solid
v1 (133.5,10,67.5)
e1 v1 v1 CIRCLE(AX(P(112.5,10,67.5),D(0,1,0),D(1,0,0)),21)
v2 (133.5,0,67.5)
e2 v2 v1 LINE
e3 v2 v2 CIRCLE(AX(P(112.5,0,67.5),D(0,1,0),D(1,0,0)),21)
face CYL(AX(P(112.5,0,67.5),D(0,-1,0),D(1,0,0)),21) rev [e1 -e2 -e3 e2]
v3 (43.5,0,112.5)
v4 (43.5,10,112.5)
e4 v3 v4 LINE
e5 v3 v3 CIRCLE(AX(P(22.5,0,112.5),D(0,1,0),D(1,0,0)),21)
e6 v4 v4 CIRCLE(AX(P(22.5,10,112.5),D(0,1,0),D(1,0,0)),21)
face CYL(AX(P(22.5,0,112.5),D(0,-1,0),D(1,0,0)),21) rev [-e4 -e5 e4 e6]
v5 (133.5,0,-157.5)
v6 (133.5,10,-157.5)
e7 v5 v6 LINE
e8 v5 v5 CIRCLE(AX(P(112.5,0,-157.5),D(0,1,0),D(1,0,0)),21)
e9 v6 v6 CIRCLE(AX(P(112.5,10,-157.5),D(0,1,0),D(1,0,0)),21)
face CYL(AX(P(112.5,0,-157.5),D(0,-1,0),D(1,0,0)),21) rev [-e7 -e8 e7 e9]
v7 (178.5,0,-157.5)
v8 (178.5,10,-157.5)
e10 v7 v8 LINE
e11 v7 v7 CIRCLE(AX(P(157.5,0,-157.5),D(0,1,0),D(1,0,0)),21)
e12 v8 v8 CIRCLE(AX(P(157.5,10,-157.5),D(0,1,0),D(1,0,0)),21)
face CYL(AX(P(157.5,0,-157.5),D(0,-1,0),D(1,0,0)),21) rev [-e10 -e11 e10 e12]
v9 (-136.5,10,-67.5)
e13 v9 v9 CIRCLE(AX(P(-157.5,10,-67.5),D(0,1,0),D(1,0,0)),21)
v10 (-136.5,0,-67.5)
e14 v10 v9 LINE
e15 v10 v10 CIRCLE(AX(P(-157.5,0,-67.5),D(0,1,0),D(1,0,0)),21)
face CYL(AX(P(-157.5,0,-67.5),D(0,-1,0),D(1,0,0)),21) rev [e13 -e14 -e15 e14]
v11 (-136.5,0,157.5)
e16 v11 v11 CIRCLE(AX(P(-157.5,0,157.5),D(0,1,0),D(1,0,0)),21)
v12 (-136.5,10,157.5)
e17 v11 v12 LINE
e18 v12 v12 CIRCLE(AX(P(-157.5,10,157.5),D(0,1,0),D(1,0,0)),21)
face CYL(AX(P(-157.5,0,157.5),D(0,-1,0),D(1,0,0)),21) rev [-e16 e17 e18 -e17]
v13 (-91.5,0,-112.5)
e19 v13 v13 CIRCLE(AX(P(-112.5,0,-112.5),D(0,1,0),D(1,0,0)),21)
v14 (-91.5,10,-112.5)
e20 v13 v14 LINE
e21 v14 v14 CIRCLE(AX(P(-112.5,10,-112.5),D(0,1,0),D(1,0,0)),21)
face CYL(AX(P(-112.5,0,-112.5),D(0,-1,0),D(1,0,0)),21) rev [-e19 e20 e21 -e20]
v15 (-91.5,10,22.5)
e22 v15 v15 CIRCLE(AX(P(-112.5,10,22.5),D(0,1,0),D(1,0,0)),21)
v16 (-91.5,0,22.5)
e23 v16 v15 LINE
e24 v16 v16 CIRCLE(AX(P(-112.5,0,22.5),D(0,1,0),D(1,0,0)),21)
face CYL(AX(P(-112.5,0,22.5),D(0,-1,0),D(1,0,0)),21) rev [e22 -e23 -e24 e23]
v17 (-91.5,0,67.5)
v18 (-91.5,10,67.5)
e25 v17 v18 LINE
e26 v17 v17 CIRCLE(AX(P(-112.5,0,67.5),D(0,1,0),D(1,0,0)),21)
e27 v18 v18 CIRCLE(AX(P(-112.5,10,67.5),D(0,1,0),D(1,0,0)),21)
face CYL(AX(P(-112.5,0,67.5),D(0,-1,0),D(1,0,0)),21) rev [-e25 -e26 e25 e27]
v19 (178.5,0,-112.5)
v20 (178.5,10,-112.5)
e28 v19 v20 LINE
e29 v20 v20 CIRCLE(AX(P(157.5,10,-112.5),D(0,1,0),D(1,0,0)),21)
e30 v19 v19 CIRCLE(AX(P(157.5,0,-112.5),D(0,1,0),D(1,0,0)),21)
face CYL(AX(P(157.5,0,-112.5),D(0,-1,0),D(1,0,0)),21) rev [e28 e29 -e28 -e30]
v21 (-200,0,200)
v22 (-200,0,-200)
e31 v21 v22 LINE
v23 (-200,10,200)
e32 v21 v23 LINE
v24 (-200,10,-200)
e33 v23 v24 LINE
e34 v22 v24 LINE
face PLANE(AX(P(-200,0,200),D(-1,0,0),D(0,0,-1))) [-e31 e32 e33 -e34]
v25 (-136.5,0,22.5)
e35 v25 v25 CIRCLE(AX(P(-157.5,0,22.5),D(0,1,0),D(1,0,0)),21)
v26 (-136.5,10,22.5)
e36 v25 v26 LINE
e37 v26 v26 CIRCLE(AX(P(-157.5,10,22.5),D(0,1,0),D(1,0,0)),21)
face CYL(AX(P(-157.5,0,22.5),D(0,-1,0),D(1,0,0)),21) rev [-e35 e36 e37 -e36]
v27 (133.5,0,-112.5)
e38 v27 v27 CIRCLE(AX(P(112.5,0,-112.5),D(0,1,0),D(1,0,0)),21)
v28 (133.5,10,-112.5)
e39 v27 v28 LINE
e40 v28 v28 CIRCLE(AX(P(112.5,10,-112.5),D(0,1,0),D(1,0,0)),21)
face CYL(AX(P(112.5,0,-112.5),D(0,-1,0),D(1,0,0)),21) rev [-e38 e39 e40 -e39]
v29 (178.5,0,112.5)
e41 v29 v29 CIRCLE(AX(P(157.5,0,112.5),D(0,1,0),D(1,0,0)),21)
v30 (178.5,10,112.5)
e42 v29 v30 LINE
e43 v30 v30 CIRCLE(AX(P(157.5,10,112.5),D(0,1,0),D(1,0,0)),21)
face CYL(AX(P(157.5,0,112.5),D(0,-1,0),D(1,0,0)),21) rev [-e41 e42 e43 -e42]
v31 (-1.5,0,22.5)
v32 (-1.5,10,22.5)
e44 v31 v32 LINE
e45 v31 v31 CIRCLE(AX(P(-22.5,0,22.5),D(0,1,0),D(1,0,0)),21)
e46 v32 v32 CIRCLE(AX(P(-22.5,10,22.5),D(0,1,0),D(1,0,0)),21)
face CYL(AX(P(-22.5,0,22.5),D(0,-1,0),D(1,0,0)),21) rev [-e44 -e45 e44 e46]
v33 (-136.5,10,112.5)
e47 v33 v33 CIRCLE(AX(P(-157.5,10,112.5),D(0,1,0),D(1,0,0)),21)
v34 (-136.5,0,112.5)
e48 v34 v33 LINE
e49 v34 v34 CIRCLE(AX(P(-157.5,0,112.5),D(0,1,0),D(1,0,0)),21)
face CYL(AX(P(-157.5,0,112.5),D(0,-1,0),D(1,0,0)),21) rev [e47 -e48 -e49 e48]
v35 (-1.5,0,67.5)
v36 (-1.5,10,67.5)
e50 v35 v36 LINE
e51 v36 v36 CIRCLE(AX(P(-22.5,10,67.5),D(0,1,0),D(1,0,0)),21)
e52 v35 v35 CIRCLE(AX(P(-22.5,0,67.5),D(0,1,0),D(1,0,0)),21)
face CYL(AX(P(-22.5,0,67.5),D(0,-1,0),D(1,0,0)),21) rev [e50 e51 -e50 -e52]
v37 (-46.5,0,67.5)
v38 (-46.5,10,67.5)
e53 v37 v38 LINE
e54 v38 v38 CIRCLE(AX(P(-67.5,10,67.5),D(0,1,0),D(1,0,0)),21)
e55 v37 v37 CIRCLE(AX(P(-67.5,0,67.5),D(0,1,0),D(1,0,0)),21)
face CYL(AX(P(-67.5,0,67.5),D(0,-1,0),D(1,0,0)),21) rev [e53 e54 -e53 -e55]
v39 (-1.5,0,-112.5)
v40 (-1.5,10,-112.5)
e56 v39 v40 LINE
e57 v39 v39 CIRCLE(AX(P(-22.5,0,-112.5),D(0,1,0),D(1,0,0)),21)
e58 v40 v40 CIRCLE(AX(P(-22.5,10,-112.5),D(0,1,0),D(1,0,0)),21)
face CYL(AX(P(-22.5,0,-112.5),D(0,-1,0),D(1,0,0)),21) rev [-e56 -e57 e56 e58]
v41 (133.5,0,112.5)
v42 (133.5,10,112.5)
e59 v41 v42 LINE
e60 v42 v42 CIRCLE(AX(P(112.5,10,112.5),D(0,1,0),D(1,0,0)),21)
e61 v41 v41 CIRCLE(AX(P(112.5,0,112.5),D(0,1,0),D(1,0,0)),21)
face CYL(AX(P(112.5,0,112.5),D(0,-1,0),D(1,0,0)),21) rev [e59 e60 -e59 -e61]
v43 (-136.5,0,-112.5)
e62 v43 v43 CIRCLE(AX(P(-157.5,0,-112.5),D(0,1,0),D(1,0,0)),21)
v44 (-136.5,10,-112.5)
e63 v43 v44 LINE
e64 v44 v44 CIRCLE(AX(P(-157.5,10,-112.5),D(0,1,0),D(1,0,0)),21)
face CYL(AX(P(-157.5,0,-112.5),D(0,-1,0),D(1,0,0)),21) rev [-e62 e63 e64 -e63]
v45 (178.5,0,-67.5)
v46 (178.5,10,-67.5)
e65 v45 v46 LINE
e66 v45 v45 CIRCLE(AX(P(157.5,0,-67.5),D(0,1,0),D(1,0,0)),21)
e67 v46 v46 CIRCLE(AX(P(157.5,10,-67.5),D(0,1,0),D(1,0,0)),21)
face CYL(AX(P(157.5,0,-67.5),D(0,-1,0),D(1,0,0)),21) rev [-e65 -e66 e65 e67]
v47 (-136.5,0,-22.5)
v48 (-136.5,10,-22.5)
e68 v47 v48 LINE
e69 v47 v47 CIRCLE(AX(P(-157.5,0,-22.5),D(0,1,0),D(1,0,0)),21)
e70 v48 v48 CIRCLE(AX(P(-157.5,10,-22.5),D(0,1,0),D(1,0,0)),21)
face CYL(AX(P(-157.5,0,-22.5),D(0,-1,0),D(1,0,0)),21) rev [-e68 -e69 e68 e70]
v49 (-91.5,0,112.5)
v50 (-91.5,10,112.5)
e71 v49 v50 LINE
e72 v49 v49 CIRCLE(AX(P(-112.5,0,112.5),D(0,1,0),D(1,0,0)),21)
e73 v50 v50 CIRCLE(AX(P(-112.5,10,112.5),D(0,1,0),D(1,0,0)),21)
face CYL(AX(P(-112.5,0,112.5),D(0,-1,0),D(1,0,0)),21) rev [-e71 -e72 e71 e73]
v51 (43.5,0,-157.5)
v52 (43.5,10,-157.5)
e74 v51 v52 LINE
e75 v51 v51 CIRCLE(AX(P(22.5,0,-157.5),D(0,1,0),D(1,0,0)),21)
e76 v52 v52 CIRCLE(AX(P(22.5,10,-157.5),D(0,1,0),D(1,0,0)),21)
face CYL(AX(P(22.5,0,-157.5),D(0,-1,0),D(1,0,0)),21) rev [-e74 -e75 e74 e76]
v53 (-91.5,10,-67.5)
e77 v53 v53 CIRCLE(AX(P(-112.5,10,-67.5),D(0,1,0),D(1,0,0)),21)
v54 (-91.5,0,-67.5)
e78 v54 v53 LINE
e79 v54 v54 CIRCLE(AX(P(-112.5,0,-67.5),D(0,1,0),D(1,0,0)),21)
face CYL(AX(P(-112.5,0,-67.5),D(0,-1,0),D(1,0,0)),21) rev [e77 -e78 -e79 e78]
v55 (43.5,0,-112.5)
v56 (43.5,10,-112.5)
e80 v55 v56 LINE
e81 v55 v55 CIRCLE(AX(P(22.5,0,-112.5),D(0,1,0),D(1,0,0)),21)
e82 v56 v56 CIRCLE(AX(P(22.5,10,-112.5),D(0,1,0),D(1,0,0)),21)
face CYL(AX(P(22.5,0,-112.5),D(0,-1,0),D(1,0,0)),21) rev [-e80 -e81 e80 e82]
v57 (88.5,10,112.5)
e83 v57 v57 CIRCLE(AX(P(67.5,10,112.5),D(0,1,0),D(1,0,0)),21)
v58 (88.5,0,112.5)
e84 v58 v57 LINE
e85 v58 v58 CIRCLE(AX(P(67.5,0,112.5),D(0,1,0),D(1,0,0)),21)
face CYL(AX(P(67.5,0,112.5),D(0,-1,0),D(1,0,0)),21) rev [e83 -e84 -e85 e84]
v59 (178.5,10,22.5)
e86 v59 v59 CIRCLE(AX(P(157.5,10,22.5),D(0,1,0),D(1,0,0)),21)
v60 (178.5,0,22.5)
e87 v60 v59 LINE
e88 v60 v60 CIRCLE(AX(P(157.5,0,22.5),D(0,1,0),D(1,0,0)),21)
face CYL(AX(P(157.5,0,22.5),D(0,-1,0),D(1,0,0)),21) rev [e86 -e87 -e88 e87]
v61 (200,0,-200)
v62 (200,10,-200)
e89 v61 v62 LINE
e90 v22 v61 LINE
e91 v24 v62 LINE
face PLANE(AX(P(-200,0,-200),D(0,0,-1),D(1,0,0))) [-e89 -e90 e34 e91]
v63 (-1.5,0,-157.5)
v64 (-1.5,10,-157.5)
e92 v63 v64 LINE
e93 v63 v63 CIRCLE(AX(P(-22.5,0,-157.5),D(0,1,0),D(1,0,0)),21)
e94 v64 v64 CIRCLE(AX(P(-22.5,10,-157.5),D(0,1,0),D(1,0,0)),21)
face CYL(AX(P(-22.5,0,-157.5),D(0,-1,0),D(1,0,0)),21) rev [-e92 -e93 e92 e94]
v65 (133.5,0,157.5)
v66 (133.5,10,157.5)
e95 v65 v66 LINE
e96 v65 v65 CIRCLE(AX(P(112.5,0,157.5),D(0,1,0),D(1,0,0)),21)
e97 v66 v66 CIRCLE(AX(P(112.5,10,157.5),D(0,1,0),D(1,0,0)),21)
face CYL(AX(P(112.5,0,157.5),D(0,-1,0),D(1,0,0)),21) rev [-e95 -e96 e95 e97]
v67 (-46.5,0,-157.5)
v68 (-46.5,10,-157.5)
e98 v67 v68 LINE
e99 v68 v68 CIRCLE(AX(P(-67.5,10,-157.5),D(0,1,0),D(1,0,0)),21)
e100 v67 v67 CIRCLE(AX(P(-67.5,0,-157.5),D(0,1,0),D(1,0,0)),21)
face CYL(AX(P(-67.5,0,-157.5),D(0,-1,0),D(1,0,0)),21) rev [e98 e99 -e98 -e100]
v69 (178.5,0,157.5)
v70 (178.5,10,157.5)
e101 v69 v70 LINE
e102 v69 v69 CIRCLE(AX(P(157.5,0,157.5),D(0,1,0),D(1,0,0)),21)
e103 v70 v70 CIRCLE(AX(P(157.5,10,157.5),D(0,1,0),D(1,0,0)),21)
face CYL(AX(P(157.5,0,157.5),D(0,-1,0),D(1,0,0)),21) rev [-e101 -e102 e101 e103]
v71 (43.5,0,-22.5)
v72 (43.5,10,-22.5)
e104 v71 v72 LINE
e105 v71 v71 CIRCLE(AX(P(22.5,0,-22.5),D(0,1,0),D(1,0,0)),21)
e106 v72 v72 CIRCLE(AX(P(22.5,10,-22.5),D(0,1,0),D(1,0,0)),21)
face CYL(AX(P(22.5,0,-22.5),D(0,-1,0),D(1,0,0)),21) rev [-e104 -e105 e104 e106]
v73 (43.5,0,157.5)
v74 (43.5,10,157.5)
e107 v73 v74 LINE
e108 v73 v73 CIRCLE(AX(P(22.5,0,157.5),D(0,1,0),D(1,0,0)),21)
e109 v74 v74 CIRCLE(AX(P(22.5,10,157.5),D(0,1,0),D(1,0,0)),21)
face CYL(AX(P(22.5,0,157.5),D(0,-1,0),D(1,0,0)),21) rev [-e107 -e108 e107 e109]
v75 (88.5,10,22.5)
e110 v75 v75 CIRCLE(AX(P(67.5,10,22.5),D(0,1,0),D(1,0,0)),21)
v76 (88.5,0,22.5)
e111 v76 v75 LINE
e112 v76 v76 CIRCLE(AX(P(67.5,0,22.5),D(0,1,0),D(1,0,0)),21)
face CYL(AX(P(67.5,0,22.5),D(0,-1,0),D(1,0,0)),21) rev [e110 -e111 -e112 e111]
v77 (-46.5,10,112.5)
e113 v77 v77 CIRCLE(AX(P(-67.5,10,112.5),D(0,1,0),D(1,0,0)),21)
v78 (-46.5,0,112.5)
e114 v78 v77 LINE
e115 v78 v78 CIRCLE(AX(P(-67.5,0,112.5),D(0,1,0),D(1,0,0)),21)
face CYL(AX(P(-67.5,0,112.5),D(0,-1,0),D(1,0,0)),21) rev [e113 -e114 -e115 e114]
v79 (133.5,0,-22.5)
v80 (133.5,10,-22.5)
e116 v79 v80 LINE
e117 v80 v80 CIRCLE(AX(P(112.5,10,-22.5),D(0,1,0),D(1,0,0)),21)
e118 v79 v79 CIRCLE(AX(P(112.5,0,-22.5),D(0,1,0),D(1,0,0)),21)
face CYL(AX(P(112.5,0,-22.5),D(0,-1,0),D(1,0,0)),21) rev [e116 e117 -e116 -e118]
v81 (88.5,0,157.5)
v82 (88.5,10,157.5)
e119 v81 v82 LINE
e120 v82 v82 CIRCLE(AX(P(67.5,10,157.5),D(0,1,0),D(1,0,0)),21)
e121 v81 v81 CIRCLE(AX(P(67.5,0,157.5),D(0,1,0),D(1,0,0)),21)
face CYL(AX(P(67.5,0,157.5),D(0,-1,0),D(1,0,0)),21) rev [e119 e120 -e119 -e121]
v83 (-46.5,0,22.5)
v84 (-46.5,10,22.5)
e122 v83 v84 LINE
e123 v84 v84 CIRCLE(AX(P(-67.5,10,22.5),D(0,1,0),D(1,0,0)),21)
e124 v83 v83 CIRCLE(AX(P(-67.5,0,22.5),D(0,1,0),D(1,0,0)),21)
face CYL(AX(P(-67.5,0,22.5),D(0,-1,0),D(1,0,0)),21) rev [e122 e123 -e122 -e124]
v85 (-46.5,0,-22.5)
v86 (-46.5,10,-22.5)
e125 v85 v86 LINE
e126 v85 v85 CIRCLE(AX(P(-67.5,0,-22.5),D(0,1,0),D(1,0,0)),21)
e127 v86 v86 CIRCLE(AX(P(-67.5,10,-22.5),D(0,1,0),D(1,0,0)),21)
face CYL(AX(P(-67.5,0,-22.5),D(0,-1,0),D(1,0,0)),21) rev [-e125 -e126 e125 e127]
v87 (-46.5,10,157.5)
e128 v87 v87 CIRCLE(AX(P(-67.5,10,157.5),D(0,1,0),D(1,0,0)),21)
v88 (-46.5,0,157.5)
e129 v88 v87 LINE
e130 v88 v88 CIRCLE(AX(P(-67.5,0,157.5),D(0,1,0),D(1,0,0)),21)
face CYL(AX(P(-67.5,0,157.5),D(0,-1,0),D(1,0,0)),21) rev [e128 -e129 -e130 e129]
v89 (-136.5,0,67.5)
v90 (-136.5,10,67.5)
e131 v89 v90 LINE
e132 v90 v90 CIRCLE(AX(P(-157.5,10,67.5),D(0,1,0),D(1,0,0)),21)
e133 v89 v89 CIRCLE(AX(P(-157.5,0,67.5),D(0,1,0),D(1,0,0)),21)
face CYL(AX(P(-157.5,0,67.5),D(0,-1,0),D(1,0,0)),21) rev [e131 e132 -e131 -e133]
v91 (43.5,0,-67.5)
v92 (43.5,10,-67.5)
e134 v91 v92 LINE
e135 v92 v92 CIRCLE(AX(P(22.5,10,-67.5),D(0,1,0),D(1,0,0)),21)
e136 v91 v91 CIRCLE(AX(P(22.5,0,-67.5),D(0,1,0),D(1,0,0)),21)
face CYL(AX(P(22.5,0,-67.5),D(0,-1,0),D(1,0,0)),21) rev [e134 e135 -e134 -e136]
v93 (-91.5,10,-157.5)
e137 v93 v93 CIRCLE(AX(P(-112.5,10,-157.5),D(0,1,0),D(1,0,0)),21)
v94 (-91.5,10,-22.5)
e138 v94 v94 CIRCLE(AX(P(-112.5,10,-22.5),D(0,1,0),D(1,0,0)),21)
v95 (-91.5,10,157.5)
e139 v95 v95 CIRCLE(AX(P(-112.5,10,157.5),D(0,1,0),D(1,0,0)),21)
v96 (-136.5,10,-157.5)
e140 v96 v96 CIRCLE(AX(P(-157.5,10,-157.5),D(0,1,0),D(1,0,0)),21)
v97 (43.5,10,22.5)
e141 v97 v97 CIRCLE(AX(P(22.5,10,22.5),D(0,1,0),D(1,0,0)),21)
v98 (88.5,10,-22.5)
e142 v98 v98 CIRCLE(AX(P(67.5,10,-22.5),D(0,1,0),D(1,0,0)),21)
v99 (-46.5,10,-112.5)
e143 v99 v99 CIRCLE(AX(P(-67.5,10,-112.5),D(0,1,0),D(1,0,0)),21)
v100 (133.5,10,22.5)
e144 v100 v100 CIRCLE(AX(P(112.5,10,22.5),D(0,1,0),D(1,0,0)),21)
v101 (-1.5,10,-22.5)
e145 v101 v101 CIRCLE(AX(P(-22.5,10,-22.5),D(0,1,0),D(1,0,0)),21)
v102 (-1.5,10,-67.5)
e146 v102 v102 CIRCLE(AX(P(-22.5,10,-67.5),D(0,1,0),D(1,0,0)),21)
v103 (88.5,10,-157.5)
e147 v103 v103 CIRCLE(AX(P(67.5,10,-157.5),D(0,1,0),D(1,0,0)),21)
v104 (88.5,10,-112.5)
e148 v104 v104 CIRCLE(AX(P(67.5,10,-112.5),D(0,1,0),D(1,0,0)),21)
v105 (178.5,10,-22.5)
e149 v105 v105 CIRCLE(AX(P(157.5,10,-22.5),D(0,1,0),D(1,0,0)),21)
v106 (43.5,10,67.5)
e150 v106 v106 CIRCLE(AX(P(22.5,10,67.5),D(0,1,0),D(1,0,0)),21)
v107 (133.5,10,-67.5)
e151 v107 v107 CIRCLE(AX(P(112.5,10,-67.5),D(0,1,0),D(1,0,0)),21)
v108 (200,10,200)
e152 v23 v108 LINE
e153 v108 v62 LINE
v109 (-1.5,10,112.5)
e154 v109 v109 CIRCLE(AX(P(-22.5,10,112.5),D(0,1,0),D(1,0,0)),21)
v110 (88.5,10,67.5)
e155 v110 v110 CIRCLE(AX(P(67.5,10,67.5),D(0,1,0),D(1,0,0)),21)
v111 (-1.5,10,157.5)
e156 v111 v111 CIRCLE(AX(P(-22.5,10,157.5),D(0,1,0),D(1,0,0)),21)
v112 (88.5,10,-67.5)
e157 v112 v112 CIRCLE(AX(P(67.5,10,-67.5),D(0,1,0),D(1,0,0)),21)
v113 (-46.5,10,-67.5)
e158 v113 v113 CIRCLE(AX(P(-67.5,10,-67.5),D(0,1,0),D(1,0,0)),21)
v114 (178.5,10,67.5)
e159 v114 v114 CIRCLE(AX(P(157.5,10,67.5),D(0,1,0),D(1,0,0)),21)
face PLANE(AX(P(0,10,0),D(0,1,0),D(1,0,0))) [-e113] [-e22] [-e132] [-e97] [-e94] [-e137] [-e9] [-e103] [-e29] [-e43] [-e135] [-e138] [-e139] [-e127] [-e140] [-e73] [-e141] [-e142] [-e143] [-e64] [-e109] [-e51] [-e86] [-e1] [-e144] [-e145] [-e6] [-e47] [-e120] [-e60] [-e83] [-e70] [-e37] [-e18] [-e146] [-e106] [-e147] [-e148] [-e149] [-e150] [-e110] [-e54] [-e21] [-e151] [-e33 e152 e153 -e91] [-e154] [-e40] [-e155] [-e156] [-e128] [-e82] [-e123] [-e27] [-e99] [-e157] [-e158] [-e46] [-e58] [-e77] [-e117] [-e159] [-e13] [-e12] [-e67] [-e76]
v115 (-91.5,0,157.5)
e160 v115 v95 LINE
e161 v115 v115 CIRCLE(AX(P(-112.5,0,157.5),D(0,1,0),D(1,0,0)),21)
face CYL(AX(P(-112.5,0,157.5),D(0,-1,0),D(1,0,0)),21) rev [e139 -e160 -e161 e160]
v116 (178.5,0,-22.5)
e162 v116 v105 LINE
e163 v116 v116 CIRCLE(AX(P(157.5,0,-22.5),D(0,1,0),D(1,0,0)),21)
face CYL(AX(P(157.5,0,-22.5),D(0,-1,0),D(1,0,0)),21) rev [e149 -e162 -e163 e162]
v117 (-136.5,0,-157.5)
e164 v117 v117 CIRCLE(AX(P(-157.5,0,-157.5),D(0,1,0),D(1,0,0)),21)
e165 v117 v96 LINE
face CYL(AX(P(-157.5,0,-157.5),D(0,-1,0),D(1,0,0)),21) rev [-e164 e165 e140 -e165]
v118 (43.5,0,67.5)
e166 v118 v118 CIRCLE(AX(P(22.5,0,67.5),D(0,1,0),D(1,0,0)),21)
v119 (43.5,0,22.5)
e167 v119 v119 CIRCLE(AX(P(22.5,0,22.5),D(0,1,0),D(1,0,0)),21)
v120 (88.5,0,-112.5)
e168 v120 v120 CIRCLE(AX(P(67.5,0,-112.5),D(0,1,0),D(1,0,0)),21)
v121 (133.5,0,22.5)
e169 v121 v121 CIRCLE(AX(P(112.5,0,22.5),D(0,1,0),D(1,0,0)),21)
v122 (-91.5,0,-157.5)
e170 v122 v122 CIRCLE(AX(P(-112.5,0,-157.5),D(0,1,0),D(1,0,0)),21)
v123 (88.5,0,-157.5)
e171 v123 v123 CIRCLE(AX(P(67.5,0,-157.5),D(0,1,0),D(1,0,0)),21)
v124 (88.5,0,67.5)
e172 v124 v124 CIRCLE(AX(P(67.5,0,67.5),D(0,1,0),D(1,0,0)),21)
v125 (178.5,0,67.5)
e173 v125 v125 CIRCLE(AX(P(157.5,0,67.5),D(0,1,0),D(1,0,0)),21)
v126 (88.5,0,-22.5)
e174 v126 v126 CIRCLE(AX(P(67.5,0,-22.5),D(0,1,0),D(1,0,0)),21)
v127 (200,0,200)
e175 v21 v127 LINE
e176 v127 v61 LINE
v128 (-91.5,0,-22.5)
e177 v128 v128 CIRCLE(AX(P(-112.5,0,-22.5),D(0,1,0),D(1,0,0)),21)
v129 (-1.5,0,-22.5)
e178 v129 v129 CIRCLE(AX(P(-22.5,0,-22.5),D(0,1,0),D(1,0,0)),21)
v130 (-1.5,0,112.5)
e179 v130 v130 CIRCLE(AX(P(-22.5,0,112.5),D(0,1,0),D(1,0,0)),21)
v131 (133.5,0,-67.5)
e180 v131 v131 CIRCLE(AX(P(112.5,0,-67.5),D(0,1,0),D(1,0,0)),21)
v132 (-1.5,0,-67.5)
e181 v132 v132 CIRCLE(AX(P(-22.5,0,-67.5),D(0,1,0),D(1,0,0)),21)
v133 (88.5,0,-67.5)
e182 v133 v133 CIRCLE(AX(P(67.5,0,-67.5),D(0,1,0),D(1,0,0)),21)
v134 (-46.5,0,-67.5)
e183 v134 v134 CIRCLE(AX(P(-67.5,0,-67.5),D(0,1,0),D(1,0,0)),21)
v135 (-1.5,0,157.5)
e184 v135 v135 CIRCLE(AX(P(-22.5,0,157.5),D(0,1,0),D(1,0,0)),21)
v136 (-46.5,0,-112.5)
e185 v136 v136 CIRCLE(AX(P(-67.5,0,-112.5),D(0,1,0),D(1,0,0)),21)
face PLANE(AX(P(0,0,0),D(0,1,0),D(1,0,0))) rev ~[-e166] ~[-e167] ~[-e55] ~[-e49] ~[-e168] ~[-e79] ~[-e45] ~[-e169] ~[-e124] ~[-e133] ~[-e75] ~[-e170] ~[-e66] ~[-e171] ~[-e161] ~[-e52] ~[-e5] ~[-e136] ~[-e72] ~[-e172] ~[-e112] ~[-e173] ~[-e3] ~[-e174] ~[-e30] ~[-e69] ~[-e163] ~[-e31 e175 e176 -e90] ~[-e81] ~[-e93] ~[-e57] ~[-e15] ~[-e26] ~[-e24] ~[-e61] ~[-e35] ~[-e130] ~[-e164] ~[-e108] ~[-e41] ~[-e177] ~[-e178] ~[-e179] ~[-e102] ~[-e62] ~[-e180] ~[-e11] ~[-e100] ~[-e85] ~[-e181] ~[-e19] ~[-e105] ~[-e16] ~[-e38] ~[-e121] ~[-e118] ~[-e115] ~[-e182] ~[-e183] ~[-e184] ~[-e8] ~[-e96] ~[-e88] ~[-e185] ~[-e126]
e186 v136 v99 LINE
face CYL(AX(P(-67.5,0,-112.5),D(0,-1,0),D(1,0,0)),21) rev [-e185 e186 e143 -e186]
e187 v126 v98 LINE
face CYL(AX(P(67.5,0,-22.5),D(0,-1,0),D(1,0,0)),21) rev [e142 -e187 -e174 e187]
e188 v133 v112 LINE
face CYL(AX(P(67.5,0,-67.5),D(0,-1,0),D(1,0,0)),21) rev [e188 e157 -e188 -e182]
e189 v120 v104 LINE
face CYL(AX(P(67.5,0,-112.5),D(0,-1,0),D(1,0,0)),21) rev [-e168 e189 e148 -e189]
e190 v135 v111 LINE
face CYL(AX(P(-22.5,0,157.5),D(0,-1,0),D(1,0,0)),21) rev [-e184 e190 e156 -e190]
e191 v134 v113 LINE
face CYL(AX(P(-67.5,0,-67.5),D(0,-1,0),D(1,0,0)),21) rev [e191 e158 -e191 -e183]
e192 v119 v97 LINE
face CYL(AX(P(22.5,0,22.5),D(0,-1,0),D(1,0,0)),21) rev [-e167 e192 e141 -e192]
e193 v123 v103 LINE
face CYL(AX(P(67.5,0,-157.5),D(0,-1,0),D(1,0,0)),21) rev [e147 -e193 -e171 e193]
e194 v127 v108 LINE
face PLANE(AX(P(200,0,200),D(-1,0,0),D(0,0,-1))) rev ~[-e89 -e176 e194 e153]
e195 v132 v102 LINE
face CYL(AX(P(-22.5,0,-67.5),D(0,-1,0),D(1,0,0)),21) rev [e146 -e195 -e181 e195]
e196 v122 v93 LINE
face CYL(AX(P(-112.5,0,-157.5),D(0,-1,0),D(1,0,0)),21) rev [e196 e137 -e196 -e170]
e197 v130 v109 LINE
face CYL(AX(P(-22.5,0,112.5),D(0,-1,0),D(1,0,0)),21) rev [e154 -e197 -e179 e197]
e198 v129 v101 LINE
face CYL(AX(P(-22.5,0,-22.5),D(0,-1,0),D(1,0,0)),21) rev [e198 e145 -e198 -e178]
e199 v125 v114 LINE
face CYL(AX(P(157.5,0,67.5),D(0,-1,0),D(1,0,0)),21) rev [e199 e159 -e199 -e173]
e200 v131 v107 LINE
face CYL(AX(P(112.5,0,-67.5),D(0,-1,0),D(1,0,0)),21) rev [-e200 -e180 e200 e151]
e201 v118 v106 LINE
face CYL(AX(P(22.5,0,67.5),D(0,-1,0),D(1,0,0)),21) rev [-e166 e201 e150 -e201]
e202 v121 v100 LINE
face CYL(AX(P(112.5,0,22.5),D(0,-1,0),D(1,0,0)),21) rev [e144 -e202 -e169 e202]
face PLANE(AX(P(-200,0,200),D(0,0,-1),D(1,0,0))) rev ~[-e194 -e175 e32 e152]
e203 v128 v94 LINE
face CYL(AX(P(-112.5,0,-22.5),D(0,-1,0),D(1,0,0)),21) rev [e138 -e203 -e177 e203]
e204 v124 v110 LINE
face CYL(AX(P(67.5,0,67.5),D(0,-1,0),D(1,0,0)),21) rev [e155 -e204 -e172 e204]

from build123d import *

# Parameters (mm, degrees)
SKETCH1_W           = 400
SKETCH1_H           = 400
SKETCH1_R           = 21
BOSS_EXTRUDE1_DEPTH = 10


with BuildPart() as part:
    # Sketch1 → Boss-Extrude1 (new body)
    with BuildSketch(Plane(origin=(0, 0, 0), x_dir=(1, 0, 0), z_dir=(0, 1, 0))):
        Rectangle(SKETCH1_W, SKETCH1_H)
        with Locations((-157.5, 157.5)):
            Circle(SKETCH1_R, mode=Mode.SUBTRACT)
        with Locations((-112.5, 157.5)):
            Circle(SKETCH1_R, mode=Mode.SUBTRACT)
        with Locations((-67.5, 157.5)):
            Circle(SKETCH1_R, mode=Mode.SUBTRACT)
        with Locations((67.5, 157.5)):
            Circle(SKETCH1_R, mode=Mode.SUBTRACT)
        with Locations((22.5, 157.5)):
            Circle(SKETCH1_R, mode=Mode.SUBTRACT)
        with Locations((-22.5, 157.5)):
            Circle(SKETCH1_R, mode=Mode.SUBTRACT)
        with Locations((112.5, 157.5)):
            Circle(SKETCH1_R, mode=Mode.SUBTRACT)
        with Locations((157.5, 157.5)):
            Circle(SKETCH1_R, mode=Mode.SUBTRACT)
        with Locations((157.5, 112.5)):
            Circle(SKETCH1_R, mode=Mode.SUBTRACT)
        with Locations((112.5, 112.5)):
            Circle(SKETCH1_R, mode=Mode.SUBTRACT)
        with Locations((-22.5, 112.5)):
            Circle(SKETCH1_R, mode=Mode.SUBTRACT)
        with Locations((22.5, 112.5)):
            Circle(SKETCH1_R, mode=Mode.SUBTRACT)
        with Locations((67.5, 112.5)):
            Circle(SKETCH1_R, mode=Mode.SUBTRACT)
        with Locations((-67.5, 112.5)):
            Circle(SKETCH1_R, mode=Mode.SUBTRACT)
        with Locations((-112.5, 112.5)):
            Circle(SKETCH1_R, mode=Mode.SUBTRACT)
        with Locations((-157.5, 112.5)):
            Circle(SKETCH1_R, mode=Mode.SUBTRACT)
        with Locations((-157.5, 67.5)):
            Circle(SKETCH1_R, mode=Mode.SUBTRACT)
        with Locations((-112.5, 67.5)):
            Circle(SKETCH1_R, mode=Mode.SUBTRACT)
        with Locations((-67.5, 67.5)):
            Circle(SKETCH1_R, mode=Mode.SUBTRACT)
        with Locations((67.5, 67.5)):
            Circle(SKETCH1_R, mode=Mode.SUBTRACT)
        with Locations((22.5, 67.5)):
            Circle(SKETCH1_R, mode=Mode.SUBTRACT)
        with Locations((-22.5, 67.5)):
            Circle(SKETCH1_R, mode=Mode.SUBTRACT)
        with Locations((112.5, 67.5)):
            Circle(SKETCH1_R, mode=Mode.SUBTRACT)
        with Locations((157.5, 67.5)):
            Circle(SKETCH1_R, mode=Mode.SUBTRACT)
        with Locations((157.5, 22.5)):
            Circle(SKETCH1_R, mode=Mode.SUBTRACT)
        with Locations((112.5, 22.5)):
            Circle(SKETCH1_R, mode=Mode.SUBTRACT)
        with Locations((-22.5, 22.5)):
            Circle(SKETCH1_R, mode=Mode.SUBTRACT)
        with Locations((22.5, 22.5)):
            Circle(SKETCH1_R, mode=Mode.SUBTRACT)
        with Locations((67.5, 22.5)):
            Circle(SKETCH1_R, mode=Mode.SUBTRACT)
        with Locations((-67.5, 22.5)):
            Circle(SKETCH1_R, mode=Mode.SUBTRACT)
        with Locations((-112.5, 22.5)):
            Circle(SKETCH1_R, mode=Mode.SUBTRACT)
        with Locations((-157.5, 22.5)):
            Circle(SKETCH1_R, mode=Mode.SUBTRACT)
        with Locations((-157.5, -22.5)):
            Circle(SKETCH1_R, mode=Mode.SUBTRACT)
        with Locations((-112.5, -22.5)):
            Circle(SKETCH1_R, mode=Mode.SUBTRACT)
        with Locations((-67.5, -22.5)):
            Circle(SKETCH1_R, mode=Mode.SUBTRACT)
        with Locations((67.5, -22.5)):
            Circle(SKETCH1_R, mode=Mode.SUBTRACT)
        with Locations((22.5, -22.5)):
            Circle(SKETCH1_R, mode=Mode.SUBTRACT)
        with Locations((-22.5, -22.5)):
            Circle(SKETCH1_R, mode=Mode.SUBTRACT)
        with Locations((112.5, -22.5)):
            Circle(SKETCH1_R, mode=Mode.SUBTRACT)
        with Locations((157.5, -22.5)):
            Circle(SKETCH1_R, mode=Mode.SUBTRACT)
        with Locations((157.5, -67.5)):
            Circle(SKETCH1_R, mode=Mode.SUBTRACT)
        with Locations((112.5, -67.5)):
            Circle(SKETCH1_R, mode=Mode.SUBTRACT)
        with Locations((-22.5, -67.5)):
            Circle(SKETCH1_R, mode=Mode.SUBTRACT)
        with Locations((22.5, -67.5)):
            Circle(SKETCH1_R, mode=Mode.SUBTRACT)
        with Locations((67.5, -67.5)):
            Circle(SKETCH1_R, mode=Mode.SUBTRACT)
        with Locations((-67.5, -67.5)):
            Circle(SKETCH1_R, mode=Mode.SUBTRACT)
        with Locations((-112.5, -67.5)):
            Circle(SKETCH1_R, mode=Mode.SUBTRACT)
        with Locations((-157.5, -67.5)):
            Circle(SKETCH1_R, mode=Mode.SUBTRACT)
        with Locations((-157.5, -112.5)):
            Circle(SKETCH1_R, mode=Mode.SUBTRACT)
        with Locations((-112.5, -112.5)):
            Circle(SKETCH1_R, mode=Mode.SUBTRACT)
        with Locations((-67.5, -112.5)):
            Circle(SKETCH1_R, mode=Mode.SUBTRACT)
        with Locations((67.5, -112.5)):
            Circle(SKETCH1_R, mode=Mode.SUBTRACT)
        with Locations((22.5, -112.5)):
            Circle(SKETCH1_R, mode=Mode.SUBTRACT)
        with Locations((-22.5, -112.5)):
            Circle(SKETCH1_R, mode=Mode.SUBTRACT)
        with Locations((112.5, -112.5)):
            Circle(SKETCH1_R, mode=Mode.SUBTRACT)
        with Locations((157.5, -112.5)):
            Circle(SKETCH1_R, mode=Mode.SUBTRACT)
        with Locations((157.5, -157.5)):
            Circle(SKETCH1_R, mode=Mode.SUBTRACT)
        with Locations((112.5, -157.5)):
            Circle(SKETCH1_R, mode=Mode.SUBTRACT)
        with Locations((-22.5, -157.5)):
            Circle(SKETCH1_R, mode=Mode.SUBTRACT)
        with Locations((22.5, -157.5)):
            Circle(SKETCH1_R, mode=Mode.SUBTRACT)
        with Locations((67.5, -157.5)):
            Circle(SKETCH1_R, mode=Mode.SUBTRACT)
        with Locations((-67.5, -157.5)):
            Circle(SKETCH1_R, mode=Mode.SUBTRACT)
        with Locations((-112.5, -157.5)):
            Circle(SKETCH1_R, mode=Mode.SUBTRACT)
        with Locations((-157.5, -157.5)):
            Circle(SKETCH1_R, mode=Mode.SUBTRACT)
    extrude(amount=BOSS_EXTRUDE1_DEPTH)


solid = part.part
